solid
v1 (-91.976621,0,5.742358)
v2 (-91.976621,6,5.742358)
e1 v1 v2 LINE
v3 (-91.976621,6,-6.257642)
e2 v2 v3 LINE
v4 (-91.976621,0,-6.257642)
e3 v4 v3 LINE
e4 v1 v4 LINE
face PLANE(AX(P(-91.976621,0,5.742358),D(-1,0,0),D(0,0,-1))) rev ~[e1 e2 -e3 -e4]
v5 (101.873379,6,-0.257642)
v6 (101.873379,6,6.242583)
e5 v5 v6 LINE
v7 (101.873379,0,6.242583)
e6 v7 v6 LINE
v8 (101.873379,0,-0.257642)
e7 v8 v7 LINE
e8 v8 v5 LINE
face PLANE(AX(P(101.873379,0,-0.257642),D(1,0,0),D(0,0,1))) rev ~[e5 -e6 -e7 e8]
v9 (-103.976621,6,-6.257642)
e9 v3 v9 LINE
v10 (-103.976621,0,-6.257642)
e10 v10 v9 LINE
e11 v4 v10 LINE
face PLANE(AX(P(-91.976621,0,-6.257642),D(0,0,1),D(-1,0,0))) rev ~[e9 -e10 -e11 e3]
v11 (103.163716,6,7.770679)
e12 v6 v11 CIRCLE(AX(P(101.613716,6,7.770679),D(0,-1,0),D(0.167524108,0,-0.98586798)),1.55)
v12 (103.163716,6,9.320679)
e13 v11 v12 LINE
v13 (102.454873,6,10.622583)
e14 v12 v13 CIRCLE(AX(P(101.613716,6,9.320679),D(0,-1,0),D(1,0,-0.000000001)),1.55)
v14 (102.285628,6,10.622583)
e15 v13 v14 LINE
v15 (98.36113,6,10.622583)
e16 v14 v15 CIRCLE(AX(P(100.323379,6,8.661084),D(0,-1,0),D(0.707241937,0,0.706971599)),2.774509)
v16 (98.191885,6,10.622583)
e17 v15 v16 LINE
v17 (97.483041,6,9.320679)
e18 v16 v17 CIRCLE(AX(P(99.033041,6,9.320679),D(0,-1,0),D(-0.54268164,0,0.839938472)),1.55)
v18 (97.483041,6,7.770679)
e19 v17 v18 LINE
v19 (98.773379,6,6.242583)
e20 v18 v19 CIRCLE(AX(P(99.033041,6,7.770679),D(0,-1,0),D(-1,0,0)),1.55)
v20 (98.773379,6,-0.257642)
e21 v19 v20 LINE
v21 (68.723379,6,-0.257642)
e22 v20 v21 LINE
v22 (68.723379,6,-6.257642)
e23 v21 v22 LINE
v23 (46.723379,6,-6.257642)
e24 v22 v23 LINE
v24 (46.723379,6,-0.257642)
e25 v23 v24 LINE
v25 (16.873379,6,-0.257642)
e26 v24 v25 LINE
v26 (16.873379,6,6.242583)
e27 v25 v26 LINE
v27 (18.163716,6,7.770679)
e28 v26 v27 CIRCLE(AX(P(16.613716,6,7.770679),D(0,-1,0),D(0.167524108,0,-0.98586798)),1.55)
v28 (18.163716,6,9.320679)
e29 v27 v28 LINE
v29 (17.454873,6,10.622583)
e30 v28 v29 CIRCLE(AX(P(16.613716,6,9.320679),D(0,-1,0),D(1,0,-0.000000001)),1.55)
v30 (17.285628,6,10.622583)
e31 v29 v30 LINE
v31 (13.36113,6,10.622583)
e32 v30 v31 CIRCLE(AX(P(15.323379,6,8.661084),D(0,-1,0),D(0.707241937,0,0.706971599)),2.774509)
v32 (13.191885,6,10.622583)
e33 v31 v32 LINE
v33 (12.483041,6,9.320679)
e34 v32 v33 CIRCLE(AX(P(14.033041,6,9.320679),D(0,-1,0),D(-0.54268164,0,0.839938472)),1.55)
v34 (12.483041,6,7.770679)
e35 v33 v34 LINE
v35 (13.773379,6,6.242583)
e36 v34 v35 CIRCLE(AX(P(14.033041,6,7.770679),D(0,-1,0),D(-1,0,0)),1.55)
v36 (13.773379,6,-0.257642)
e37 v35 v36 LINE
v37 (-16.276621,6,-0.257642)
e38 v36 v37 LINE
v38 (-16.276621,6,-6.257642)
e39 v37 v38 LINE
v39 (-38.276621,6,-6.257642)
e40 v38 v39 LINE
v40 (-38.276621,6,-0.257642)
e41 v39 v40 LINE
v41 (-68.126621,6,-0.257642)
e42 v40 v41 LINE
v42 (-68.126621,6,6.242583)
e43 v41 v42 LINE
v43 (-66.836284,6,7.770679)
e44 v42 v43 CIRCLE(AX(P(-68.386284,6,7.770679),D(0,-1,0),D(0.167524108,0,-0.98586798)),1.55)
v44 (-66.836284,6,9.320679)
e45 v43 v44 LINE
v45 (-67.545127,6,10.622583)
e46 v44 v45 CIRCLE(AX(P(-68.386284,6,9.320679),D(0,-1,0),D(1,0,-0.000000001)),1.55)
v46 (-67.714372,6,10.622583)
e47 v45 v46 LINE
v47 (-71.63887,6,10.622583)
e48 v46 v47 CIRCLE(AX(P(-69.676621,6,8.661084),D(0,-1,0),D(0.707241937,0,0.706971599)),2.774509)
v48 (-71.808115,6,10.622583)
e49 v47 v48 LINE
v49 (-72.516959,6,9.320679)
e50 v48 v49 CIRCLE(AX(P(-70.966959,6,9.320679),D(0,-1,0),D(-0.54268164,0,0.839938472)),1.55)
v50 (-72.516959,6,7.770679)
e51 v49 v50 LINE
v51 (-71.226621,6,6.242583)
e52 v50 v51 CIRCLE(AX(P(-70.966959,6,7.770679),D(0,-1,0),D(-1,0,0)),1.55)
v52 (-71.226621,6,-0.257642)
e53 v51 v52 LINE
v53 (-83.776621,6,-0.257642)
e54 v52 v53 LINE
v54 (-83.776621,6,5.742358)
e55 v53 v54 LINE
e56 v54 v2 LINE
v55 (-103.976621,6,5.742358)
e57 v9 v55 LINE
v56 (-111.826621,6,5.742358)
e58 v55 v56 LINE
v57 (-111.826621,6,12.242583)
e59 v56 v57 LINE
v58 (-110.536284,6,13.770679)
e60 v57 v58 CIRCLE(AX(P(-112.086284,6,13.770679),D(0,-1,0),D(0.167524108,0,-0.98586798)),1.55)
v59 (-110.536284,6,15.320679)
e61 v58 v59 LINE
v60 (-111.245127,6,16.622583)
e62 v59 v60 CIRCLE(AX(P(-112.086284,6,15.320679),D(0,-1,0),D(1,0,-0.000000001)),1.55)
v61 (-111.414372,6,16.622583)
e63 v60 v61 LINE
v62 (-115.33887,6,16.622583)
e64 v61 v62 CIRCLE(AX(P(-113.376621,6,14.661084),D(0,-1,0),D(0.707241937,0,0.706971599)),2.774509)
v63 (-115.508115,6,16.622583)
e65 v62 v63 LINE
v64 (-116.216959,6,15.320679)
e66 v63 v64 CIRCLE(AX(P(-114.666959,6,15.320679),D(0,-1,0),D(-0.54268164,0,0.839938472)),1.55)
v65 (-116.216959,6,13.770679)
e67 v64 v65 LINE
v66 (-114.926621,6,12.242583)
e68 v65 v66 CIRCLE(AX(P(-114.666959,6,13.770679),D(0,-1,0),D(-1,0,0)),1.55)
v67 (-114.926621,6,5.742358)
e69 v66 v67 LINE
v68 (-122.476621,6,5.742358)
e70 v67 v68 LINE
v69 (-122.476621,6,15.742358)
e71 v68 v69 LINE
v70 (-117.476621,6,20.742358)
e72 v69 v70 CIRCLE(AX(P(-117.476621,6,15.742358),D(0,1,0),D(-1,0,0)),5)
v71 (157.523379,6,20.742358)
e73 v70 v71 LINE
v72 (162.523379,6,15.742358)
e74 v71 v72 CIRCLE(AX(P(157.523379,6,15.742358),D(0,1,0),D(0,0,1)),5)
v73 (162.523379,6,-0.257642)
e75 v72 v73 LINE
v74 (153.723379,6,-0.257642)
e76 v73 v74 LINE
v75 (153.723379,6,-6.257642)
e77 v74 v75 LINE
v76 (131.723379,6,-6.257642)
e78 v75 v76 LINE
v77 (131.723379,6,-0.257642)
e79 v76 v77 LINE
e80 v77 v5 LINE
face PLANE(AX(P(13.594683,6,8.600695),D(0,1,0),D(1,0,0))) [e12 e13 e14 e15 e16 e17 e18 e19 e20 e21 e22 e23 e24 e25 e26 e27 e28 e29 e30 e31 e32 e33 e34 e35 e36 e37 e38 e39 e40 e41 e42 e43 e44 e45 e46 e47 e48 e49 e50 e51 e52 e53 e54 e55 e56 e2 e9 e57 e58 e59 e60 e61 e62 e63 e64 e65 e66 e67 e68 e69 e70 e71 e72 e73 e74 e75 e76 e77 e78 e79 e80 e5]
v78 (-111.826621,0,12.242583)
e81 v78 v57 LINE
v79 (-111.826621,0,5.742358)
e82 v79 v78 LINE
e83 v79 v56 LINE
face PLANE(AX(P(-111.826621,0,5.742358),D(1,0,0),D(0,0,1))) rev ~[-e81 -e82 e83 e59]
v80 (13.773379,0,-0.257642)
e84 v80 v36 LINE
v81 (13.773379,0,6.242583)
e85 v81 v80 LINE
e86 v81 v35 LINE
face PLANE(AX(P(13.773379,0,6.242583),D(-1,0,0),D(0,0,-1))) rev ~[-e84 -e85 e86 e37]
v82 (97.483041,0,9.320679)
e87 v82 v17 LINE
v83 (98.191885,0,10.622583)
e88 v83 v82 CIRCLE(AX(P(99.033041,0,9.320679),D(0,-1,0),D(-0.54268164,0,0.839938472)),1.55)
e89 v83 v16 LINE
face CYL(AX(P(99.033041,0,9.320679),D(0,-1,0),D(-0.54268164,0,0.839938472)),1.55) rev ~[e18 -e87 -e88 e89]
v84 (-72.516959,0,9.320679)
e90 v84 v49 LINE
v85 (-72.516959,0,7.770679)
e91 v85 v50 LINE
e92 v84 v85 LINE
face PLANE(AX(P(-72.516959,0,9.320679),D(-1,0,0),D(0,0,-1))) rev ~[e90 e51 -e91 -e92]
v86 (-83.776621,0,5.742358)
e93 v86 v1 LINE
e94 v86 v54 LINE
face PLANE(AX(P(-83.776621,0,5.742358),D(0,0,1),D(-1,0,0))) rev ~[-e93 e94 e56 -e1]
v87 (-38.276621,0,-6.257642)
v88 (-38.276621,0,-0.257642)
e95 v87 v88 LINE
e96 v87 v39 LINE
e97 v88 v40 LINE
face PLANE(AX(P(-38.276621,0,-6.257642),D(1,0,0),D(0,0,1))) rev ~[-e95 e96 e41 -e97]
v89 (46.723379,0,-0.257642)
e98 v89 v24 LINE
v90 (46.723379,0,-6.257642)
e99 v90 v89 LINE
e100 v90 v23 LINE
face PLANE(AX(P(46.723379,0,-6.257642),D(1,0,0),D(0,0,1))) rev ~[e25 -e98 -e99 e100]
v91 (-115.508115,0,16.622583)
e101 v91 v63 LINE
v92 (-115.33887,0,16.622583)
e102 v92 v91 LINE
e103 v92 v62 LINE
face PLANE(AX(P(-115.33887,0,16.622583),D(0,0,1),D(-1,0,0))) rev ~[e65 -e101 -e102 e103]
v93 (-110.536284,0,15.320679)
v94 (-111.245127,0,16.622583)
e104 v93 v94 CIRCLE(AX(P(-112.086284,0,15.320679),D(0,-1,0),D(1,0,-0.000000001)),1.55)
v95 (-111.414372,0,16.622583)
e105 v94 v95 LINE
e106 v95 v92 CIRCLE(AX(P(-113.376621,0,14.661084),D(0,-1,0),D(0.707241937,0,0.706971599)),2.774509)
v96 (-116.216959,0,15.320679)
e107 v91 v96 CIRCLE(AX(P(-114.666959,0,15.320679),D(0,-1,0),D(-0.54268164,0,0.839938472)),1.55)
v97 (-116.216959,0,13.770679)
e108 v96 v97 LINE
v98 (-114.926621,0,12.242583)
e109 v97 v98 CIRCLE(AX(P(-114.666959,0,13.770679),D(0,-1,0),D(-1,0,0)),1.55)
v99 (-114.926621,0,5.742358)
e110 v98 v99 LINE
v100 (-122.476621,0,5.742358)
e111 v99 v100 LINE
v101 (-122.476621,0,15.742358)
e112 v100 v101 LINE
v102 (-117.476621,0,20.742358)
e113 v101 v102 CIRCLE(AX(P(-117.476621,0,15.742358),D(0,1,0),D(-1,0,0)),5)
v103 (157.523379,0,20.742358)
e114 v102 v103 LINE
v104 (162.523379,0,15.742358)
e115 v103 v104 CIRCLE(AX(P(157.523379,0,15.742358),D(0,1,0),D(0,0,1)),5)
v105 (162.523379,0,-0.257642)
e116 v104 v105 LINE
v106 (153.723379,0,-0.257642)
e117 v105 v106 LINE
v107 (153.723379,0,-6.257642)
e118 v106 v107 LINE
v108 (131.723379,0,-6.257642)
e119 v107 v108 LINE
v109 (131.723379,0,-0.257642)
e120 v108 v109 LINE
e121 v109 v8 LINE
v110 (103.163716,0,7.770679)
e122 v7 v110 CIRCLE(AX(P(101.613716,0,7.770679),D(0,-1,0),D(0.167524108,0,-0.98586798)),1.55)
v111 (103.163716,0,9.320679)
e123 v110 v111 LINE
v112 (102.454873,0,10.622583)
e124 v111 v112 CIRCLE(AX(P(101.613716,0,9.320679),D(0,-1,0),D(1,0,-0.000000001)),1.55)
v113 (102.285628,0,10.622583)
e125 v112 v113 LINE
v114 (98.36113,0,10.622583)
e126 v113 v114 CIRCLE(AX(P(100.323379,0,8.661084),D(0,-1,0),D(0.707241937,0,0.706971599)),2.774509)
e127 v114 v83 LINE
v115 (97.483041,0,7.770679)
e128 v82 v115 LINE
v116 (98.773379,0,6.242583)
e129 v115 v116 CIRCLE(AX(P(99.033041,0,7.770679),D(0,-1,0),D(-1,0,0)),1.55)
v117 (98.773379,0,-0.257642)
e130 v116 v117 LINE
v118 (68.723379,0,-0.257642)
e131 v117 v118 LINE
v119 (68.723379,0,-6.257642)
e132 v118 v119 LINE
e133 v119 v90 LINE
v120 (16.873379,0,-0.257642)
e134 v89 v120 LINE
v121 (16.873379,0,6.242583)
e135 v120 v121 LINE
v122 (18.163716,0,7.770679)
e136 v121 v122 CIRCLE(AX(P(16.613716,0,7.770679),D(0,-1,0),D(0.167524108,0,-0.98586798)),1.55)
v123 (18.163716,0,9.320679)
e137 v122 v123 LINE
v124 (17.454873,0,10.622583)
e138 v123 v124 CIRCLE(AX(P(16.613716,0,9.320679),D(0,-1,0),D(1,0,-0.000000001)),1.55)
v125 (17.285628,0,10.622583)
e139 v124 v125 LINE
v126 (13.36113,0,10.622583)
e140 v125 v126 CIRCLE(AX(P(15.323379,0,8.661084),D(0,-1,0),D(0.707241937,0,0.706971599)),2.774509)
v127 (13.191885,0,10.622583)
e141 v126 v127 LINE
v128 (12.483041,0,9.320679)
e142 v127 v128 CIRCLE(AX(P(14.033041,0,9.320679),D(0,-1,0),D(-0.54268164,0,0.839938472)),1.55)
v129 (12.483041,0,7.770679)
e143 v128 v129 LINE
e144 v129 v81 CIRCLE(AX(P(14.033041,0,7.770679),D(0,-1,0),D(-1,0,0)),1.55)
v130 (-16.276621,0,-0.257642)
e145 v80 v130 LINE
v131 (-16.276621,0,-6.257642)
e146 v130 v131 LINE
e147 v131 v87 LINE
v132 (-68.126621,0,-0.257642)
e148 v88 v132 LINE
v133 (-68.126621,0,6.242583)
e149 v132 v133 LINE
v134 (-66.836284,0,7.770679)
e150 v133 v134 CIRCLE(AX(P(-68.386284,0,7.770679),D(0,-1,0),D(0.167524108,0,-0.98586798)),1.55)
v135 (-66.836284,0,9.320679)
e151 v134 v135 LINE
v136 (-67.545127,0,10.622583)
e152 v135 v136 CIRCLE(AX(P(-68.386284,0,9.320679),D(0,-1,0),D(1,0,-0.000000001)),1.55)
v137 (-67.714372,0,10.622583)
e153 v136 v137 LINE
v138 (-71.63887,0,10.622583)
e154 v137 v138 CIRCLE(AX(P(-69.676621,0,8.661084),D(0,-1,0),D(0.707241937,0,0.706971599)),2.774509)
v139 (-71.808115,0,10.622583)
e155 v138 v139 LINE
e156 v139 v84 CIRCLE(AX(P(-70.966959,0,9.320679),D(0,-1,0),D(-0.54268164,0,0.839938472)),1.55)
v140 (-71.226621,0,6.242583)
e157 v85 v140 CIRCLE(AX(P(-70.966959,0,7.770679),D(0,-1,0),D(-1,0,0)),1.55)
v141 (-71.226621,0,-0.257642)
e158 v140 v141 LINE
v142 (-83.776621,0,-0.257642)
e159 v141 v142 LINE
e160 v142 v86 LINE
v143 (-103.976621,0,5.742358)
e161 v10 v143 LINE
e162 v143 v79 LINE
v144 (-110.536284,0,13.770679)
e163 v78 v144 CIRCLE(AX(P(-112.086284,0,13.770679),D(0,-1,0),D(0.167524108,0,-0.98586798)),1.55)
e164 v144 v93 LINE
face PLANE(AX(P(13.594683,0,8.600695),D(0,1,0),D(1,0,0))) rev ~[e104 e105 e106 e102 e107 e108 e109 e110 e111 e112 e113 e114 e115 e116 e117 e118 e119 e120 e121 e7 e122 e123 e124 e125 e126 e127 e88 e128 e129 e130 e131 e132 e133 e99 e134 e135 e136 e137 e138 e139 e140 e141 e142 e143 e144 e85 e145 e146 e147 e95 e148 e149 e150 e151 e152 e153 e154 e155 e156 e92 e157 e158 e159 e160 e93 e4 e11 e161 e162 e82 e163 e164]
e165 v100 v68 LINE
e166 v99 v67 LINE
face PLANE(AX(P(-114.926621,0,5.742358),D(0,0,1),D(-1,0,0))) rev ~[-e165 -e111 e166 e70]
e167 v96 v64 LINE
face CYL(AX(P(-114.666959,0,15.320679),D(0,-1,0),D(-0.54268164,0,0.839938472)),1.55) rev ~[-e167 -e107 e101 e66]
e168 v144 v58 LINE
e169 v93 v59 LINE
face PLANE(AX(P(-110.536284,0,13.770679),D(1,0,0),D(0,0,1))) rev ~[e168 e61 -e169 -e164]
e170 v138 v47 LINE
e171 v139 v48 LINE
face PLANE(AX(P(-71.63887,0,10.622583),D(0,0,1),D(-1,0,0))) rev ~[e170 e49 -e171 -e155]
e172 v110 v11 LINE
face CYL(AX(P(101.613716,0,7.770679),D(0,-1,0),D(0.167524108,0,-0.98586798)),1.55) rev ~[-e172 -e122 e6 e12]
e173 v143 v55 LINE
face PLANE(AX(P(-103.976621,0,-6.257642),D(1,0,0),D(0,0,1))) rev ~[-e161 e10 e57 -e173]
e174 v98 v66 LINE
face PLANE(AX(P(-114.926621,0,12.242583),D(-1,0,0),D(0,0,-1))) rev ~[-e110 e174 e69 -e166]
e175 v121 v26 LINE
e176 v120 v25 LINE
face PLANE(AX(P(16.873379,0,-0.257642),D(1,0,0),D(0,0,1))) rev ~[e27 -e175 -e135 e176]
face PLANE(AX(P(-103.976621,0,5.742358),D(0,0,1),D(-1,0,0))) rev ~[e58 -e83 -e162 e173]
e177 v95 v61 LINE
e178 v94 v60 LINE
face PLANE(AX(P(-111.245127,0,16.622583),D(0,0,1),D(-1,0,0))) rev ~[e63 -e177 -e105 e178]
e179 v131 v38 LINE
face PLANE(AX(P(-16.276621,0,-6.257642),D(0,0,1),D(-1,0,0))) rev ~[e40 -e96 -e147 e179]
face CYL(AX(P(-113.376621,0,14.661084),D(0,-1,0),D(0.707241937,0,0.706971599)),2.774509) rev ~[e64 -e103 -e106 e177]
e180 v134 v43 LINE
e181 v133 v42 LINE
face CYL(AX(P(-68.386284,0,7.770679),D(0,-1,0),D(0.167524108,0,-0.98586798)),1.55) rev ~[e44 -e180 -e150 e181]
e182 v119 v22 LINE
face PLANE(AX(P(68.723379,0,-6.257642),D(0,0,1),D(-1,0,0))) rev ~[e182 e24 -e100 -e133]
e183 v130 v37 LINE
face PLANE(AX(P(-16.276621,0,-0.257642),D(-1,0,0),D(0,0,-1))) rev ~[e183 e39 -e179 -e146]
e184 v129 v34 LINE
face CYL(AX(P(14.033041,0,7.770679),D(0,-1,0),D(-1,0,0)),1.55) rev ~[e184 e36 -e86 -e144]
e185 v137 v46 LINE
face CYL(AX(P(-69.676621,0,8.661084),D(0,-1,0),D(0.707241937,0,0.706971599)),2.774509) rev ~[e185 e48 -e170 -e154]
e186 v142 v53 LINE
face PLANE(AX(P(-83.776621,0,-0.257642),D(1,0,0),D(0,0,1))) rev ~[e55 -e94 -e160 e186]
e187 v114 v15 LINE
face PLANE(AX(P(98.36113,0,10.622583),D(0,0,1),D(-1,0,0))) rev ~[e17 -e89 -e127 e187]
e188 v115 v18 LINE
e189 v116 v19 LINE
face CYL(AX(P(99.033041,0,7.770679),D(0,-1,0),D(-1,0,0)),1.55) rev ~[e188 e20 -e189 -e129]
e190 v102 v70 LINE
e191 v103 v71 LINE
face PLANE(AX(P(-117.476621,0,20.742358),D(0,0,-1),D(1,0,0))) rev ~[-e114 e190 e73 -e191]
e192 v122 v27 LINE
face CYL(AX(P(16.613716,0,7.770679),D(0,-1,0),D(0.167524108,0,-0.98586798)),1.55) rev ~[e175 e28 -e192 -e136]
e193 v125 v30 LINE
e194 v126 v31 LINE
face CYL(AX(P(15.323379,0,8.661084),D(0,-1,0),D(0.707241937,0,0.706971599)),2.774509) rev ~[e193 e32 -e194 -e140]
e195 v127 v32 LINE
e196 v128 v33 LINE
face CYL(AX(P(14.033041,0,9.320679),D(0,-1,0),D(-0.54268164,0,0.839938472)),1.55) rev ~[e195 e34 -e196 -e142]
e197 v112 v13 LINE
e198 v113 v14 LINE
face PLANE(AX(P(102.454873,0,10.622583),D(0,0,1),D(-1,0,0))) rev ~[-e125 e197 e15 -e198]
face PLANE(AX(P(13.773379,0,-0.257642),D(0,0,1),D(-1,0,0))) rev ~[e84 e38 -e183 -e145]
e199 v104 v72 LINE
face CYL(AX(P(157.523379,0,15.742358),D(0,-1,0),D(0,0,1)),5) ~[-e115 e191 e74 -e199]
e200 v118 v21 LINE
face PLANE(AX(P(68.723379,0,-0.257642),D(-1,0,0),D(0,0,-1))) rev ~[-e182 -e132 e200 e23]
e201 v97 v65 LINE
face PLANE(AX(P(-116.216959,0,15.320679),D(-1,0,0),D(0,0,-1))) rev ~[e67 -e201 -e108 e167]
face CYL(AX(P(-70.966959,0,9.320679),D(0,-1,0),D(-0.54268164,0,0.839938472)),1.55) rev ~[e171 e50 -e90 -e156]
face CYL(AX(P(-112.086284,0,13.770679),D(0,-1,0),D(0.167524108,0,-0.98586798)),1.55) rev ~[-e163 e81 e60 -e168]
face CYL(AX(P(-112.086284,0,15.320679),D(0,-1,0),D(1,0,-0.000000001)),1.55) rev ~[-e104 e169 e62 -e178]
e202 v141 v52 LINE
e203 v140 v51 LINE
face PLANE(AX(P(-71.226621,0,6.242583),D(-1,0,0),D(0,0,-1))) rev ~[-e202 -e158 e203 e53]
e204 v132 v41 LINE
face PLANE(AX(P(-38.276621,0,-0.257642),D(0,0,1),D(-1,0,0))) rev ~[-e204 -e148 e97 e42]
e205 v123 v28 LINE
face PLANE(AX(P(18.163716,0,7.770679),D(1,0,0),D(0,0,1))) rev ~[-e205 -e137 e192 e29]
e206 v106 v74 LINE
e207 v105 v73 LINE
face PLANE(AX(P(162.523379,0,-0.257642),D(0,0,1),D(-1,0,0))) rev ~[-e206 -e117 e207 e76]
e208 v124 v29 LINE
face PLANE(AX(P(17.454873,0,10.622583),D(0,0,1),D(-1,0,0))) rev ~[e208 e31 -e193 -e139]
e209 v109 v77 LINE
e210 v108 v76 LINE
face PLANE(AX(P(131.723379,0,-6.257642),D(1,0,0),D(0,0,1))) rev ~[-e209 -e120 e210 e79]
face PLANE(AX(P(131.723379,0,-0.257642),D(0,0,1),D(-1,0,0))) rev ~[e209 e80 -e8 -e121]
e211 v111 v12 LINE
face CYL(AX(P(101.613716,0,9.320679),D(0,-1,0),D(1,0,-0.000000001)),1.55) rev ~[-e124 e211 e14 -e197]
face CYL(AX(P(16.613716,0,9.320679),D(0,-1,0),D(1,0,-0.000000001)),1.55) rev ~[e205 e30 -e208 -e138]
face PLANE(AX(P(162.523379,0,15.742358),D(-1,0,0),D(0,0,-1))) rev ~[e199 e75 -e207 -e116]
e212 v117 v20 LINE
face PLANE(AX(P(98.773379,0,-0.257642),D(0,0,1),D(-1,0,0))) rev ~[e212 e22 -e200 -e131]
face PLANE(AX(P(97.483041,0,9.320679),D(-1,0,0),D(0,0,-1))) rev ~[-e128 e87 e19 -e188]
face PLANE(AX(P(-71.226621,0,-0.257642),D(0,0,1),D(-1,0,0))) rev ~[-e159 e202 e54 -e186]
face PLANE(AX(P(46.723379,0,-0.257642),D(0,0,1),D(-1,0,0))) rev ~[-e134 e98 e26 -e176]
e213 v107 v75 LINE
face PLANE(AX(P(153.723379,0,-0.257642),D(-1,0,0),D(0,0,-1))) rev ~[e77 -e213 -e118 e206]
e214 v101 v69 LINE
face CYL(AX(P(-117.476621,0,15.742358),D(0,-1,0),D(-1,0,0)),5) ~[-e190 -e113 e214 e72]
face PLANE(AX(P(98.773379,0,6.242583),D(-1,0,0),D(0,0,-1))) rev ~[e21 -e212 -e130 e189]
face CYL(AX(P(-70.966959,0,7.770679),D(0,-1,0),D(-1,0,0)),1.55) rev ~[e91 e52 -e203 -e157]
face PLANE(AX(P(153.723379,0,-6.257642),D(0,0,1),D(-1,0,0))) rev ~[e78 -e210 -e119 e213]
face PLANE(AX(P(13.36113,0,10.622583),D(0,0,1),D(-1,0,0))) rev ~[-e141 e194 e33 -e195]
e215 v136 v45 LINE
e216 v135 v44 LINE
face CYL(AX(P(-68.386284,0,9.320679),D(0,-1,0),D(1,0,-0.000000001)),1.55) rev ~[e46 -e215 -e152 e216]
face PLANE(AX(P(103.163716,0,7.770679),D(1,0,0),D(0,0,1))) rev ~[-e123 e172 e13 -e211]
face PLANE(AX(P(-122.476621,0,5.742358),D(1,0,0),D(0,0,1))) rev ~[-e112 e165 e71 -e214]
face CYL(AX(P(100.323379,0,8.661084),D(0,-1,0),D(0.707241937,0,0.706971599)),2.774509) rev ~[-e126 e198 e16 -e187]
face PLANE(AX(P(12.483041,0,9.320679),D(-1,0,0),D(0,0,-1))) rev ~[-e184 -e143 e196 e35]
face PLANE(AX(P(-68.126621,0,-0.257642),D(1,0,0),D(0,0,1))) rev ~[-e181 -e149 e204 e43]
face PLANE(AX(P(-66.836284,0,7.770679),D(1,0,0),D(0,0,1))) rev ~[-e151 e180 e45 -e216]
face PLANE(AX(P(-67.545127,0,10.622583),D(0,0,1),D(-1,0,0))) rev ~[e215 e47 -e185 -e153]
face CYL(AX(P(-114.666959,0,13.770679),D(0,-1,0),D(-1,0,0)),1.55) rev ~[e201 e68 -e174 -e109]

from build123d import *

# Parameters (mm, degrees)
SALIENTE_EXTRUIR1_DEPTH = 6


with BuildPart() as part:
    # Croquis1 → Saliente-Extruir1 (new body)
    with BuildSketch(Plane(origin=(0, 0, 0), x_dir=(1, 0, 0), z_dir=(0, 1, 0))):
        with BuildLine():
            Line((-114.926621199, -5.742358079), (-122.476621199, -5.742358079))
            Line((-122.476621199, -5.742358079), (-122.476621199, -15.742358079))
            ThreePointArc((-122.476621199, -15.742358079), (-121.012155104, -19.277891985), (-117.476621199, -20.742358079))
            Line((-117.476621199, -20.742358079), (157.523378801, -20.742358079))
            ThreePointArc((157.523378801, -20.742358079), (161.058912707, -19.277891985), (162.523378801, -15.742358079))
            Line((162.523378801, -15.742358079), (162.523378801, -0.742358079))
            Line((162.523378801, -0.742358079), (162.523378801, 0.257641921))
            Line((162.523378801, 0.257641921), (154.223378801, 0.257641921))
            Line((154.223378801, 0.257641921), (153.723378801, 0.257641921))
            Line((153.723378801, 0.257641921), (153.723378801, 6.257641921))
            Line((153.723378801, 6.257641921), (131.723378801, 6.257641921))
            Line((131.723378801, 6.257641921), (131.723378801, 0.257641921))
            Line((131.723378801, 0.257641921), (131.223378801, 0.257641921))
            Line((131.223378801, 0.257641921), (101.873378801, 0.257641921))
            Line((101.873378801, 0.257641921), (101.873378801, -6.242583321))
            ThreePointArc((101.873378801, -6.242583321), (102.797983436, -6.770672857), (103.163716432, -7.770678689))
            Line((103.163716432, -7.770678689), (103.163716432, -9.320678689))
            ThreePointArc((103.163716432, -9.320678689), (102.975019602, -10.061862661), (102.454872975, -10.622583321))
            Line((102.454872975, -10.622583321), (102.285628043, -10.622583321))
            ThreePointArc((102.285628043, -10.622583321), (100.323378801, -11.435593306), (98.36112956, -10.622583321))
            Line((98.36112956, -10.622583321), (98.191884628, -10.622583321))
            ThreePointArc((98.191884628, -10.622583321), (97.671738001, -10.061862661), (97.483041171, -9.320678689))
            Line((97.483041171, -9.320678689), (97.483041171, -7.770678689))
            ThreePointArc((97.483041171, -7.770678689), (97.848774167, -6.770672857), (98.773378801, -6.242583321))
            Line((98.773378801, -6.242583321), (98.773378801, 0.257641921))
            Line((98.773378801, 0.257641921), (69.223378801, 0.257641921))
            Line((69.223378801, 0.257641921), (68.723378801, 0.257641921))
            Line((68.723378801, 0.257641921), (68.723378801, 6.257641921))
            Line((68.723378801, 6.257641921), (46.723378801, 6.257641921))
            Line((46.723378801, 6.257641921), (46.723378801, 0.257641921))
            Line((46.723378801, 0.257641921), (46.223378801, 0.257641921))
            Line((46.223378801, 0.257641921), (16.873378801, 0.257641921))
            Line((16.873378801, 0.257641921), (16.873378801, -6.242583321))
            ThreePointArc((16.873378801, -6.242583321), (17.797983436, -6.770672857), (18.163716432, -7.770678689))
            Line((18.163716432, -7.770678689), (18.163716432, -9.320678689))
            ThreePointArc((18.163716432, -9.320678689), (17.975019602, -10.061862661), (17.454872975, -10.622583321))
            Line((17.454872975, -10.622583321), (17.285628043, -10.622583321))
            ThreePointArc((17.285628043, -10.622583321), (15.323378801, -11.435593306), (13.36112956, -10.622583321))
            Line((13.36112956, -10.622583321), (13.191884628, -10.622583321))
            ThreePointArc((13.191884628, -10.622583321), (12.671738001, -10.061862661), (12.483041171, -9.320678689))
            Line((12.483041171, -9.320678689), (12.483041171, -7.770678689))
            ThreePointArc((12.483041171, -7.770678689), (12.848774167, -6.770672857), (13.773378801, -6.242583321))
            Line((13.773378801, -6.242583321), (13.773378801, 0.257641921))
            Line((13.773378801, 0.257641921), (-14.776621199, 0.257641921))
            Line((-14.776621199, 0.257641921), (-15.776621199, 0.257641921))
            Line((-15.776621199, 0.257641921), (-16.276621199, 0.257641921))
            Line((-16.276621199, 0.257641921), (-16.276621199, 6.257641921))
            Line((-16.276621199, 6.257641921), (-38.276621199, 6.257641921))
            Line((-38.276621199, 6.257641921), (-38.276621199, 0.257641921))
            Line((-38.276621199, 0.257641921), (-38.776621199, 0.257641921))
            Line((-38.776621199, 0.257641921), (-39.776621199, 0.257641921))
            Line((-39.776621199, 0.257641921), (-68.126621199, 0.257641921))
            Line((-68.126621199, 0.257641921), (-68.126621199, -6.242583321))
            ThreePointArc((-68.126621199, -6.242583321), (-67.202016564, -6.770672857), (-66.836283568, -7.770678689))
            Line((-66.836283568, -7.770678689), (-66.836283568, -9.320678689))
            ThreePointArc((-66.836283568, -9.320678689), (-67.024980398, -10.061862661), (-67.545127025, -10.622583321))
            Line((-67.545127025, -10.622583321), (-67.714371957, -10.622583321))
            ThreePointArc((-67.714371957, -10.622583321), (-69.676621199, -11.435593306), (-71.63887044, -10.622583321))
            Line((-71.63887044, -10.622583321), (-71.808115372, -10.622583321))
            ThreePointArc((-71.808115372, -10.622583321), (-72.328261999, -10.061862661), (-72.516958829, -9.320678689))
            Line((-72.516958829, -9.320678689), (-72.516958829, -7.770678689))
            ThreePointArc((-72.516958829, -7.770678689), (-72.151225833, -6.770672857), (-71.226621199, -6.242583321))
            Line((-71.226621199, -6.242583321), (-71.226621199, 0.257641921))
            Line((-71.226621199, 0.257641921), (-83.776621199, 0.257641921))
            Line((-83.776621199, 0.257641921), (-83.776621199, -5.742358079))
            Line((-83.776621199, -5.742358079), (-90.476621199, -5.742358079))
            Line((-90.476621199, -5.742358079), (-91.476621199, -5.742358079))
            Line((-91.476621199, -5.742358079), (-91.976621199, -5.742358079))
            Line((-91.976621199, -5.742358079), (-91.976621199, 6.257641921))
            Line((-91.976621199, 6.257641921), (-103.976621199, 6.257641921))
            Line((-103.976621199, 6.257641921), (-103.976621199, -5.742358079))
            Line((-103.976621199, -5.742358079), (-104.476621199, -5.742358079))
            Line((-104.476621199, -5.742358079), (-105.476621199, -5.742358079))
            Line((-105.476621199, -5.742358079), (-111.826621199, -5.742358079))
            Line((-111.826621199, -5.742358079), (-111.826621199, -12.242583321))
            ThreePointArc((-111.826621199, -12.242583321), (-110.902016564, -12.770672857), (-110.536283568, -13.770678689))
            Line((-110.536283568, -13.770678689), (-110.536283568, -15.320678689))
            ThreePointArc((-110.536283568, -15.320678689), (-110.724980398, -16.061862661), (-111.245127025, -16.622583321))
            Line((-111.245127025, -16.622583321), (-111.414371957, -16.622583321))
            ThreePointArc((-111.414371957, -16.622583321), (-113.376621199, -17.435593306), (-115.33887044, -16.622583321))
            Line((-115.33887044, -16.622583321), (-115.508115372, -16.622583321))
            ThreePointArc((-115.508115372, -16.622583321), (-116.028261999, -16.061862661), (-116.216958829, -15.320678689))
            Line((-116.216958829, -15.320678689), (-116.216958829, -13.770678689))
            ThreePointArc((-116.216958829, -13.770678689), (-115.851225833, -12.770672857), (-114.926621199, -12.242583321))
            Line((-114.926621199, -12.242583321), (-114.926621199, -5.742358079))
        make_face()
    extrude(amount=SALIENTE_EXTRUIR1_DEPTH)


solid = part.part
